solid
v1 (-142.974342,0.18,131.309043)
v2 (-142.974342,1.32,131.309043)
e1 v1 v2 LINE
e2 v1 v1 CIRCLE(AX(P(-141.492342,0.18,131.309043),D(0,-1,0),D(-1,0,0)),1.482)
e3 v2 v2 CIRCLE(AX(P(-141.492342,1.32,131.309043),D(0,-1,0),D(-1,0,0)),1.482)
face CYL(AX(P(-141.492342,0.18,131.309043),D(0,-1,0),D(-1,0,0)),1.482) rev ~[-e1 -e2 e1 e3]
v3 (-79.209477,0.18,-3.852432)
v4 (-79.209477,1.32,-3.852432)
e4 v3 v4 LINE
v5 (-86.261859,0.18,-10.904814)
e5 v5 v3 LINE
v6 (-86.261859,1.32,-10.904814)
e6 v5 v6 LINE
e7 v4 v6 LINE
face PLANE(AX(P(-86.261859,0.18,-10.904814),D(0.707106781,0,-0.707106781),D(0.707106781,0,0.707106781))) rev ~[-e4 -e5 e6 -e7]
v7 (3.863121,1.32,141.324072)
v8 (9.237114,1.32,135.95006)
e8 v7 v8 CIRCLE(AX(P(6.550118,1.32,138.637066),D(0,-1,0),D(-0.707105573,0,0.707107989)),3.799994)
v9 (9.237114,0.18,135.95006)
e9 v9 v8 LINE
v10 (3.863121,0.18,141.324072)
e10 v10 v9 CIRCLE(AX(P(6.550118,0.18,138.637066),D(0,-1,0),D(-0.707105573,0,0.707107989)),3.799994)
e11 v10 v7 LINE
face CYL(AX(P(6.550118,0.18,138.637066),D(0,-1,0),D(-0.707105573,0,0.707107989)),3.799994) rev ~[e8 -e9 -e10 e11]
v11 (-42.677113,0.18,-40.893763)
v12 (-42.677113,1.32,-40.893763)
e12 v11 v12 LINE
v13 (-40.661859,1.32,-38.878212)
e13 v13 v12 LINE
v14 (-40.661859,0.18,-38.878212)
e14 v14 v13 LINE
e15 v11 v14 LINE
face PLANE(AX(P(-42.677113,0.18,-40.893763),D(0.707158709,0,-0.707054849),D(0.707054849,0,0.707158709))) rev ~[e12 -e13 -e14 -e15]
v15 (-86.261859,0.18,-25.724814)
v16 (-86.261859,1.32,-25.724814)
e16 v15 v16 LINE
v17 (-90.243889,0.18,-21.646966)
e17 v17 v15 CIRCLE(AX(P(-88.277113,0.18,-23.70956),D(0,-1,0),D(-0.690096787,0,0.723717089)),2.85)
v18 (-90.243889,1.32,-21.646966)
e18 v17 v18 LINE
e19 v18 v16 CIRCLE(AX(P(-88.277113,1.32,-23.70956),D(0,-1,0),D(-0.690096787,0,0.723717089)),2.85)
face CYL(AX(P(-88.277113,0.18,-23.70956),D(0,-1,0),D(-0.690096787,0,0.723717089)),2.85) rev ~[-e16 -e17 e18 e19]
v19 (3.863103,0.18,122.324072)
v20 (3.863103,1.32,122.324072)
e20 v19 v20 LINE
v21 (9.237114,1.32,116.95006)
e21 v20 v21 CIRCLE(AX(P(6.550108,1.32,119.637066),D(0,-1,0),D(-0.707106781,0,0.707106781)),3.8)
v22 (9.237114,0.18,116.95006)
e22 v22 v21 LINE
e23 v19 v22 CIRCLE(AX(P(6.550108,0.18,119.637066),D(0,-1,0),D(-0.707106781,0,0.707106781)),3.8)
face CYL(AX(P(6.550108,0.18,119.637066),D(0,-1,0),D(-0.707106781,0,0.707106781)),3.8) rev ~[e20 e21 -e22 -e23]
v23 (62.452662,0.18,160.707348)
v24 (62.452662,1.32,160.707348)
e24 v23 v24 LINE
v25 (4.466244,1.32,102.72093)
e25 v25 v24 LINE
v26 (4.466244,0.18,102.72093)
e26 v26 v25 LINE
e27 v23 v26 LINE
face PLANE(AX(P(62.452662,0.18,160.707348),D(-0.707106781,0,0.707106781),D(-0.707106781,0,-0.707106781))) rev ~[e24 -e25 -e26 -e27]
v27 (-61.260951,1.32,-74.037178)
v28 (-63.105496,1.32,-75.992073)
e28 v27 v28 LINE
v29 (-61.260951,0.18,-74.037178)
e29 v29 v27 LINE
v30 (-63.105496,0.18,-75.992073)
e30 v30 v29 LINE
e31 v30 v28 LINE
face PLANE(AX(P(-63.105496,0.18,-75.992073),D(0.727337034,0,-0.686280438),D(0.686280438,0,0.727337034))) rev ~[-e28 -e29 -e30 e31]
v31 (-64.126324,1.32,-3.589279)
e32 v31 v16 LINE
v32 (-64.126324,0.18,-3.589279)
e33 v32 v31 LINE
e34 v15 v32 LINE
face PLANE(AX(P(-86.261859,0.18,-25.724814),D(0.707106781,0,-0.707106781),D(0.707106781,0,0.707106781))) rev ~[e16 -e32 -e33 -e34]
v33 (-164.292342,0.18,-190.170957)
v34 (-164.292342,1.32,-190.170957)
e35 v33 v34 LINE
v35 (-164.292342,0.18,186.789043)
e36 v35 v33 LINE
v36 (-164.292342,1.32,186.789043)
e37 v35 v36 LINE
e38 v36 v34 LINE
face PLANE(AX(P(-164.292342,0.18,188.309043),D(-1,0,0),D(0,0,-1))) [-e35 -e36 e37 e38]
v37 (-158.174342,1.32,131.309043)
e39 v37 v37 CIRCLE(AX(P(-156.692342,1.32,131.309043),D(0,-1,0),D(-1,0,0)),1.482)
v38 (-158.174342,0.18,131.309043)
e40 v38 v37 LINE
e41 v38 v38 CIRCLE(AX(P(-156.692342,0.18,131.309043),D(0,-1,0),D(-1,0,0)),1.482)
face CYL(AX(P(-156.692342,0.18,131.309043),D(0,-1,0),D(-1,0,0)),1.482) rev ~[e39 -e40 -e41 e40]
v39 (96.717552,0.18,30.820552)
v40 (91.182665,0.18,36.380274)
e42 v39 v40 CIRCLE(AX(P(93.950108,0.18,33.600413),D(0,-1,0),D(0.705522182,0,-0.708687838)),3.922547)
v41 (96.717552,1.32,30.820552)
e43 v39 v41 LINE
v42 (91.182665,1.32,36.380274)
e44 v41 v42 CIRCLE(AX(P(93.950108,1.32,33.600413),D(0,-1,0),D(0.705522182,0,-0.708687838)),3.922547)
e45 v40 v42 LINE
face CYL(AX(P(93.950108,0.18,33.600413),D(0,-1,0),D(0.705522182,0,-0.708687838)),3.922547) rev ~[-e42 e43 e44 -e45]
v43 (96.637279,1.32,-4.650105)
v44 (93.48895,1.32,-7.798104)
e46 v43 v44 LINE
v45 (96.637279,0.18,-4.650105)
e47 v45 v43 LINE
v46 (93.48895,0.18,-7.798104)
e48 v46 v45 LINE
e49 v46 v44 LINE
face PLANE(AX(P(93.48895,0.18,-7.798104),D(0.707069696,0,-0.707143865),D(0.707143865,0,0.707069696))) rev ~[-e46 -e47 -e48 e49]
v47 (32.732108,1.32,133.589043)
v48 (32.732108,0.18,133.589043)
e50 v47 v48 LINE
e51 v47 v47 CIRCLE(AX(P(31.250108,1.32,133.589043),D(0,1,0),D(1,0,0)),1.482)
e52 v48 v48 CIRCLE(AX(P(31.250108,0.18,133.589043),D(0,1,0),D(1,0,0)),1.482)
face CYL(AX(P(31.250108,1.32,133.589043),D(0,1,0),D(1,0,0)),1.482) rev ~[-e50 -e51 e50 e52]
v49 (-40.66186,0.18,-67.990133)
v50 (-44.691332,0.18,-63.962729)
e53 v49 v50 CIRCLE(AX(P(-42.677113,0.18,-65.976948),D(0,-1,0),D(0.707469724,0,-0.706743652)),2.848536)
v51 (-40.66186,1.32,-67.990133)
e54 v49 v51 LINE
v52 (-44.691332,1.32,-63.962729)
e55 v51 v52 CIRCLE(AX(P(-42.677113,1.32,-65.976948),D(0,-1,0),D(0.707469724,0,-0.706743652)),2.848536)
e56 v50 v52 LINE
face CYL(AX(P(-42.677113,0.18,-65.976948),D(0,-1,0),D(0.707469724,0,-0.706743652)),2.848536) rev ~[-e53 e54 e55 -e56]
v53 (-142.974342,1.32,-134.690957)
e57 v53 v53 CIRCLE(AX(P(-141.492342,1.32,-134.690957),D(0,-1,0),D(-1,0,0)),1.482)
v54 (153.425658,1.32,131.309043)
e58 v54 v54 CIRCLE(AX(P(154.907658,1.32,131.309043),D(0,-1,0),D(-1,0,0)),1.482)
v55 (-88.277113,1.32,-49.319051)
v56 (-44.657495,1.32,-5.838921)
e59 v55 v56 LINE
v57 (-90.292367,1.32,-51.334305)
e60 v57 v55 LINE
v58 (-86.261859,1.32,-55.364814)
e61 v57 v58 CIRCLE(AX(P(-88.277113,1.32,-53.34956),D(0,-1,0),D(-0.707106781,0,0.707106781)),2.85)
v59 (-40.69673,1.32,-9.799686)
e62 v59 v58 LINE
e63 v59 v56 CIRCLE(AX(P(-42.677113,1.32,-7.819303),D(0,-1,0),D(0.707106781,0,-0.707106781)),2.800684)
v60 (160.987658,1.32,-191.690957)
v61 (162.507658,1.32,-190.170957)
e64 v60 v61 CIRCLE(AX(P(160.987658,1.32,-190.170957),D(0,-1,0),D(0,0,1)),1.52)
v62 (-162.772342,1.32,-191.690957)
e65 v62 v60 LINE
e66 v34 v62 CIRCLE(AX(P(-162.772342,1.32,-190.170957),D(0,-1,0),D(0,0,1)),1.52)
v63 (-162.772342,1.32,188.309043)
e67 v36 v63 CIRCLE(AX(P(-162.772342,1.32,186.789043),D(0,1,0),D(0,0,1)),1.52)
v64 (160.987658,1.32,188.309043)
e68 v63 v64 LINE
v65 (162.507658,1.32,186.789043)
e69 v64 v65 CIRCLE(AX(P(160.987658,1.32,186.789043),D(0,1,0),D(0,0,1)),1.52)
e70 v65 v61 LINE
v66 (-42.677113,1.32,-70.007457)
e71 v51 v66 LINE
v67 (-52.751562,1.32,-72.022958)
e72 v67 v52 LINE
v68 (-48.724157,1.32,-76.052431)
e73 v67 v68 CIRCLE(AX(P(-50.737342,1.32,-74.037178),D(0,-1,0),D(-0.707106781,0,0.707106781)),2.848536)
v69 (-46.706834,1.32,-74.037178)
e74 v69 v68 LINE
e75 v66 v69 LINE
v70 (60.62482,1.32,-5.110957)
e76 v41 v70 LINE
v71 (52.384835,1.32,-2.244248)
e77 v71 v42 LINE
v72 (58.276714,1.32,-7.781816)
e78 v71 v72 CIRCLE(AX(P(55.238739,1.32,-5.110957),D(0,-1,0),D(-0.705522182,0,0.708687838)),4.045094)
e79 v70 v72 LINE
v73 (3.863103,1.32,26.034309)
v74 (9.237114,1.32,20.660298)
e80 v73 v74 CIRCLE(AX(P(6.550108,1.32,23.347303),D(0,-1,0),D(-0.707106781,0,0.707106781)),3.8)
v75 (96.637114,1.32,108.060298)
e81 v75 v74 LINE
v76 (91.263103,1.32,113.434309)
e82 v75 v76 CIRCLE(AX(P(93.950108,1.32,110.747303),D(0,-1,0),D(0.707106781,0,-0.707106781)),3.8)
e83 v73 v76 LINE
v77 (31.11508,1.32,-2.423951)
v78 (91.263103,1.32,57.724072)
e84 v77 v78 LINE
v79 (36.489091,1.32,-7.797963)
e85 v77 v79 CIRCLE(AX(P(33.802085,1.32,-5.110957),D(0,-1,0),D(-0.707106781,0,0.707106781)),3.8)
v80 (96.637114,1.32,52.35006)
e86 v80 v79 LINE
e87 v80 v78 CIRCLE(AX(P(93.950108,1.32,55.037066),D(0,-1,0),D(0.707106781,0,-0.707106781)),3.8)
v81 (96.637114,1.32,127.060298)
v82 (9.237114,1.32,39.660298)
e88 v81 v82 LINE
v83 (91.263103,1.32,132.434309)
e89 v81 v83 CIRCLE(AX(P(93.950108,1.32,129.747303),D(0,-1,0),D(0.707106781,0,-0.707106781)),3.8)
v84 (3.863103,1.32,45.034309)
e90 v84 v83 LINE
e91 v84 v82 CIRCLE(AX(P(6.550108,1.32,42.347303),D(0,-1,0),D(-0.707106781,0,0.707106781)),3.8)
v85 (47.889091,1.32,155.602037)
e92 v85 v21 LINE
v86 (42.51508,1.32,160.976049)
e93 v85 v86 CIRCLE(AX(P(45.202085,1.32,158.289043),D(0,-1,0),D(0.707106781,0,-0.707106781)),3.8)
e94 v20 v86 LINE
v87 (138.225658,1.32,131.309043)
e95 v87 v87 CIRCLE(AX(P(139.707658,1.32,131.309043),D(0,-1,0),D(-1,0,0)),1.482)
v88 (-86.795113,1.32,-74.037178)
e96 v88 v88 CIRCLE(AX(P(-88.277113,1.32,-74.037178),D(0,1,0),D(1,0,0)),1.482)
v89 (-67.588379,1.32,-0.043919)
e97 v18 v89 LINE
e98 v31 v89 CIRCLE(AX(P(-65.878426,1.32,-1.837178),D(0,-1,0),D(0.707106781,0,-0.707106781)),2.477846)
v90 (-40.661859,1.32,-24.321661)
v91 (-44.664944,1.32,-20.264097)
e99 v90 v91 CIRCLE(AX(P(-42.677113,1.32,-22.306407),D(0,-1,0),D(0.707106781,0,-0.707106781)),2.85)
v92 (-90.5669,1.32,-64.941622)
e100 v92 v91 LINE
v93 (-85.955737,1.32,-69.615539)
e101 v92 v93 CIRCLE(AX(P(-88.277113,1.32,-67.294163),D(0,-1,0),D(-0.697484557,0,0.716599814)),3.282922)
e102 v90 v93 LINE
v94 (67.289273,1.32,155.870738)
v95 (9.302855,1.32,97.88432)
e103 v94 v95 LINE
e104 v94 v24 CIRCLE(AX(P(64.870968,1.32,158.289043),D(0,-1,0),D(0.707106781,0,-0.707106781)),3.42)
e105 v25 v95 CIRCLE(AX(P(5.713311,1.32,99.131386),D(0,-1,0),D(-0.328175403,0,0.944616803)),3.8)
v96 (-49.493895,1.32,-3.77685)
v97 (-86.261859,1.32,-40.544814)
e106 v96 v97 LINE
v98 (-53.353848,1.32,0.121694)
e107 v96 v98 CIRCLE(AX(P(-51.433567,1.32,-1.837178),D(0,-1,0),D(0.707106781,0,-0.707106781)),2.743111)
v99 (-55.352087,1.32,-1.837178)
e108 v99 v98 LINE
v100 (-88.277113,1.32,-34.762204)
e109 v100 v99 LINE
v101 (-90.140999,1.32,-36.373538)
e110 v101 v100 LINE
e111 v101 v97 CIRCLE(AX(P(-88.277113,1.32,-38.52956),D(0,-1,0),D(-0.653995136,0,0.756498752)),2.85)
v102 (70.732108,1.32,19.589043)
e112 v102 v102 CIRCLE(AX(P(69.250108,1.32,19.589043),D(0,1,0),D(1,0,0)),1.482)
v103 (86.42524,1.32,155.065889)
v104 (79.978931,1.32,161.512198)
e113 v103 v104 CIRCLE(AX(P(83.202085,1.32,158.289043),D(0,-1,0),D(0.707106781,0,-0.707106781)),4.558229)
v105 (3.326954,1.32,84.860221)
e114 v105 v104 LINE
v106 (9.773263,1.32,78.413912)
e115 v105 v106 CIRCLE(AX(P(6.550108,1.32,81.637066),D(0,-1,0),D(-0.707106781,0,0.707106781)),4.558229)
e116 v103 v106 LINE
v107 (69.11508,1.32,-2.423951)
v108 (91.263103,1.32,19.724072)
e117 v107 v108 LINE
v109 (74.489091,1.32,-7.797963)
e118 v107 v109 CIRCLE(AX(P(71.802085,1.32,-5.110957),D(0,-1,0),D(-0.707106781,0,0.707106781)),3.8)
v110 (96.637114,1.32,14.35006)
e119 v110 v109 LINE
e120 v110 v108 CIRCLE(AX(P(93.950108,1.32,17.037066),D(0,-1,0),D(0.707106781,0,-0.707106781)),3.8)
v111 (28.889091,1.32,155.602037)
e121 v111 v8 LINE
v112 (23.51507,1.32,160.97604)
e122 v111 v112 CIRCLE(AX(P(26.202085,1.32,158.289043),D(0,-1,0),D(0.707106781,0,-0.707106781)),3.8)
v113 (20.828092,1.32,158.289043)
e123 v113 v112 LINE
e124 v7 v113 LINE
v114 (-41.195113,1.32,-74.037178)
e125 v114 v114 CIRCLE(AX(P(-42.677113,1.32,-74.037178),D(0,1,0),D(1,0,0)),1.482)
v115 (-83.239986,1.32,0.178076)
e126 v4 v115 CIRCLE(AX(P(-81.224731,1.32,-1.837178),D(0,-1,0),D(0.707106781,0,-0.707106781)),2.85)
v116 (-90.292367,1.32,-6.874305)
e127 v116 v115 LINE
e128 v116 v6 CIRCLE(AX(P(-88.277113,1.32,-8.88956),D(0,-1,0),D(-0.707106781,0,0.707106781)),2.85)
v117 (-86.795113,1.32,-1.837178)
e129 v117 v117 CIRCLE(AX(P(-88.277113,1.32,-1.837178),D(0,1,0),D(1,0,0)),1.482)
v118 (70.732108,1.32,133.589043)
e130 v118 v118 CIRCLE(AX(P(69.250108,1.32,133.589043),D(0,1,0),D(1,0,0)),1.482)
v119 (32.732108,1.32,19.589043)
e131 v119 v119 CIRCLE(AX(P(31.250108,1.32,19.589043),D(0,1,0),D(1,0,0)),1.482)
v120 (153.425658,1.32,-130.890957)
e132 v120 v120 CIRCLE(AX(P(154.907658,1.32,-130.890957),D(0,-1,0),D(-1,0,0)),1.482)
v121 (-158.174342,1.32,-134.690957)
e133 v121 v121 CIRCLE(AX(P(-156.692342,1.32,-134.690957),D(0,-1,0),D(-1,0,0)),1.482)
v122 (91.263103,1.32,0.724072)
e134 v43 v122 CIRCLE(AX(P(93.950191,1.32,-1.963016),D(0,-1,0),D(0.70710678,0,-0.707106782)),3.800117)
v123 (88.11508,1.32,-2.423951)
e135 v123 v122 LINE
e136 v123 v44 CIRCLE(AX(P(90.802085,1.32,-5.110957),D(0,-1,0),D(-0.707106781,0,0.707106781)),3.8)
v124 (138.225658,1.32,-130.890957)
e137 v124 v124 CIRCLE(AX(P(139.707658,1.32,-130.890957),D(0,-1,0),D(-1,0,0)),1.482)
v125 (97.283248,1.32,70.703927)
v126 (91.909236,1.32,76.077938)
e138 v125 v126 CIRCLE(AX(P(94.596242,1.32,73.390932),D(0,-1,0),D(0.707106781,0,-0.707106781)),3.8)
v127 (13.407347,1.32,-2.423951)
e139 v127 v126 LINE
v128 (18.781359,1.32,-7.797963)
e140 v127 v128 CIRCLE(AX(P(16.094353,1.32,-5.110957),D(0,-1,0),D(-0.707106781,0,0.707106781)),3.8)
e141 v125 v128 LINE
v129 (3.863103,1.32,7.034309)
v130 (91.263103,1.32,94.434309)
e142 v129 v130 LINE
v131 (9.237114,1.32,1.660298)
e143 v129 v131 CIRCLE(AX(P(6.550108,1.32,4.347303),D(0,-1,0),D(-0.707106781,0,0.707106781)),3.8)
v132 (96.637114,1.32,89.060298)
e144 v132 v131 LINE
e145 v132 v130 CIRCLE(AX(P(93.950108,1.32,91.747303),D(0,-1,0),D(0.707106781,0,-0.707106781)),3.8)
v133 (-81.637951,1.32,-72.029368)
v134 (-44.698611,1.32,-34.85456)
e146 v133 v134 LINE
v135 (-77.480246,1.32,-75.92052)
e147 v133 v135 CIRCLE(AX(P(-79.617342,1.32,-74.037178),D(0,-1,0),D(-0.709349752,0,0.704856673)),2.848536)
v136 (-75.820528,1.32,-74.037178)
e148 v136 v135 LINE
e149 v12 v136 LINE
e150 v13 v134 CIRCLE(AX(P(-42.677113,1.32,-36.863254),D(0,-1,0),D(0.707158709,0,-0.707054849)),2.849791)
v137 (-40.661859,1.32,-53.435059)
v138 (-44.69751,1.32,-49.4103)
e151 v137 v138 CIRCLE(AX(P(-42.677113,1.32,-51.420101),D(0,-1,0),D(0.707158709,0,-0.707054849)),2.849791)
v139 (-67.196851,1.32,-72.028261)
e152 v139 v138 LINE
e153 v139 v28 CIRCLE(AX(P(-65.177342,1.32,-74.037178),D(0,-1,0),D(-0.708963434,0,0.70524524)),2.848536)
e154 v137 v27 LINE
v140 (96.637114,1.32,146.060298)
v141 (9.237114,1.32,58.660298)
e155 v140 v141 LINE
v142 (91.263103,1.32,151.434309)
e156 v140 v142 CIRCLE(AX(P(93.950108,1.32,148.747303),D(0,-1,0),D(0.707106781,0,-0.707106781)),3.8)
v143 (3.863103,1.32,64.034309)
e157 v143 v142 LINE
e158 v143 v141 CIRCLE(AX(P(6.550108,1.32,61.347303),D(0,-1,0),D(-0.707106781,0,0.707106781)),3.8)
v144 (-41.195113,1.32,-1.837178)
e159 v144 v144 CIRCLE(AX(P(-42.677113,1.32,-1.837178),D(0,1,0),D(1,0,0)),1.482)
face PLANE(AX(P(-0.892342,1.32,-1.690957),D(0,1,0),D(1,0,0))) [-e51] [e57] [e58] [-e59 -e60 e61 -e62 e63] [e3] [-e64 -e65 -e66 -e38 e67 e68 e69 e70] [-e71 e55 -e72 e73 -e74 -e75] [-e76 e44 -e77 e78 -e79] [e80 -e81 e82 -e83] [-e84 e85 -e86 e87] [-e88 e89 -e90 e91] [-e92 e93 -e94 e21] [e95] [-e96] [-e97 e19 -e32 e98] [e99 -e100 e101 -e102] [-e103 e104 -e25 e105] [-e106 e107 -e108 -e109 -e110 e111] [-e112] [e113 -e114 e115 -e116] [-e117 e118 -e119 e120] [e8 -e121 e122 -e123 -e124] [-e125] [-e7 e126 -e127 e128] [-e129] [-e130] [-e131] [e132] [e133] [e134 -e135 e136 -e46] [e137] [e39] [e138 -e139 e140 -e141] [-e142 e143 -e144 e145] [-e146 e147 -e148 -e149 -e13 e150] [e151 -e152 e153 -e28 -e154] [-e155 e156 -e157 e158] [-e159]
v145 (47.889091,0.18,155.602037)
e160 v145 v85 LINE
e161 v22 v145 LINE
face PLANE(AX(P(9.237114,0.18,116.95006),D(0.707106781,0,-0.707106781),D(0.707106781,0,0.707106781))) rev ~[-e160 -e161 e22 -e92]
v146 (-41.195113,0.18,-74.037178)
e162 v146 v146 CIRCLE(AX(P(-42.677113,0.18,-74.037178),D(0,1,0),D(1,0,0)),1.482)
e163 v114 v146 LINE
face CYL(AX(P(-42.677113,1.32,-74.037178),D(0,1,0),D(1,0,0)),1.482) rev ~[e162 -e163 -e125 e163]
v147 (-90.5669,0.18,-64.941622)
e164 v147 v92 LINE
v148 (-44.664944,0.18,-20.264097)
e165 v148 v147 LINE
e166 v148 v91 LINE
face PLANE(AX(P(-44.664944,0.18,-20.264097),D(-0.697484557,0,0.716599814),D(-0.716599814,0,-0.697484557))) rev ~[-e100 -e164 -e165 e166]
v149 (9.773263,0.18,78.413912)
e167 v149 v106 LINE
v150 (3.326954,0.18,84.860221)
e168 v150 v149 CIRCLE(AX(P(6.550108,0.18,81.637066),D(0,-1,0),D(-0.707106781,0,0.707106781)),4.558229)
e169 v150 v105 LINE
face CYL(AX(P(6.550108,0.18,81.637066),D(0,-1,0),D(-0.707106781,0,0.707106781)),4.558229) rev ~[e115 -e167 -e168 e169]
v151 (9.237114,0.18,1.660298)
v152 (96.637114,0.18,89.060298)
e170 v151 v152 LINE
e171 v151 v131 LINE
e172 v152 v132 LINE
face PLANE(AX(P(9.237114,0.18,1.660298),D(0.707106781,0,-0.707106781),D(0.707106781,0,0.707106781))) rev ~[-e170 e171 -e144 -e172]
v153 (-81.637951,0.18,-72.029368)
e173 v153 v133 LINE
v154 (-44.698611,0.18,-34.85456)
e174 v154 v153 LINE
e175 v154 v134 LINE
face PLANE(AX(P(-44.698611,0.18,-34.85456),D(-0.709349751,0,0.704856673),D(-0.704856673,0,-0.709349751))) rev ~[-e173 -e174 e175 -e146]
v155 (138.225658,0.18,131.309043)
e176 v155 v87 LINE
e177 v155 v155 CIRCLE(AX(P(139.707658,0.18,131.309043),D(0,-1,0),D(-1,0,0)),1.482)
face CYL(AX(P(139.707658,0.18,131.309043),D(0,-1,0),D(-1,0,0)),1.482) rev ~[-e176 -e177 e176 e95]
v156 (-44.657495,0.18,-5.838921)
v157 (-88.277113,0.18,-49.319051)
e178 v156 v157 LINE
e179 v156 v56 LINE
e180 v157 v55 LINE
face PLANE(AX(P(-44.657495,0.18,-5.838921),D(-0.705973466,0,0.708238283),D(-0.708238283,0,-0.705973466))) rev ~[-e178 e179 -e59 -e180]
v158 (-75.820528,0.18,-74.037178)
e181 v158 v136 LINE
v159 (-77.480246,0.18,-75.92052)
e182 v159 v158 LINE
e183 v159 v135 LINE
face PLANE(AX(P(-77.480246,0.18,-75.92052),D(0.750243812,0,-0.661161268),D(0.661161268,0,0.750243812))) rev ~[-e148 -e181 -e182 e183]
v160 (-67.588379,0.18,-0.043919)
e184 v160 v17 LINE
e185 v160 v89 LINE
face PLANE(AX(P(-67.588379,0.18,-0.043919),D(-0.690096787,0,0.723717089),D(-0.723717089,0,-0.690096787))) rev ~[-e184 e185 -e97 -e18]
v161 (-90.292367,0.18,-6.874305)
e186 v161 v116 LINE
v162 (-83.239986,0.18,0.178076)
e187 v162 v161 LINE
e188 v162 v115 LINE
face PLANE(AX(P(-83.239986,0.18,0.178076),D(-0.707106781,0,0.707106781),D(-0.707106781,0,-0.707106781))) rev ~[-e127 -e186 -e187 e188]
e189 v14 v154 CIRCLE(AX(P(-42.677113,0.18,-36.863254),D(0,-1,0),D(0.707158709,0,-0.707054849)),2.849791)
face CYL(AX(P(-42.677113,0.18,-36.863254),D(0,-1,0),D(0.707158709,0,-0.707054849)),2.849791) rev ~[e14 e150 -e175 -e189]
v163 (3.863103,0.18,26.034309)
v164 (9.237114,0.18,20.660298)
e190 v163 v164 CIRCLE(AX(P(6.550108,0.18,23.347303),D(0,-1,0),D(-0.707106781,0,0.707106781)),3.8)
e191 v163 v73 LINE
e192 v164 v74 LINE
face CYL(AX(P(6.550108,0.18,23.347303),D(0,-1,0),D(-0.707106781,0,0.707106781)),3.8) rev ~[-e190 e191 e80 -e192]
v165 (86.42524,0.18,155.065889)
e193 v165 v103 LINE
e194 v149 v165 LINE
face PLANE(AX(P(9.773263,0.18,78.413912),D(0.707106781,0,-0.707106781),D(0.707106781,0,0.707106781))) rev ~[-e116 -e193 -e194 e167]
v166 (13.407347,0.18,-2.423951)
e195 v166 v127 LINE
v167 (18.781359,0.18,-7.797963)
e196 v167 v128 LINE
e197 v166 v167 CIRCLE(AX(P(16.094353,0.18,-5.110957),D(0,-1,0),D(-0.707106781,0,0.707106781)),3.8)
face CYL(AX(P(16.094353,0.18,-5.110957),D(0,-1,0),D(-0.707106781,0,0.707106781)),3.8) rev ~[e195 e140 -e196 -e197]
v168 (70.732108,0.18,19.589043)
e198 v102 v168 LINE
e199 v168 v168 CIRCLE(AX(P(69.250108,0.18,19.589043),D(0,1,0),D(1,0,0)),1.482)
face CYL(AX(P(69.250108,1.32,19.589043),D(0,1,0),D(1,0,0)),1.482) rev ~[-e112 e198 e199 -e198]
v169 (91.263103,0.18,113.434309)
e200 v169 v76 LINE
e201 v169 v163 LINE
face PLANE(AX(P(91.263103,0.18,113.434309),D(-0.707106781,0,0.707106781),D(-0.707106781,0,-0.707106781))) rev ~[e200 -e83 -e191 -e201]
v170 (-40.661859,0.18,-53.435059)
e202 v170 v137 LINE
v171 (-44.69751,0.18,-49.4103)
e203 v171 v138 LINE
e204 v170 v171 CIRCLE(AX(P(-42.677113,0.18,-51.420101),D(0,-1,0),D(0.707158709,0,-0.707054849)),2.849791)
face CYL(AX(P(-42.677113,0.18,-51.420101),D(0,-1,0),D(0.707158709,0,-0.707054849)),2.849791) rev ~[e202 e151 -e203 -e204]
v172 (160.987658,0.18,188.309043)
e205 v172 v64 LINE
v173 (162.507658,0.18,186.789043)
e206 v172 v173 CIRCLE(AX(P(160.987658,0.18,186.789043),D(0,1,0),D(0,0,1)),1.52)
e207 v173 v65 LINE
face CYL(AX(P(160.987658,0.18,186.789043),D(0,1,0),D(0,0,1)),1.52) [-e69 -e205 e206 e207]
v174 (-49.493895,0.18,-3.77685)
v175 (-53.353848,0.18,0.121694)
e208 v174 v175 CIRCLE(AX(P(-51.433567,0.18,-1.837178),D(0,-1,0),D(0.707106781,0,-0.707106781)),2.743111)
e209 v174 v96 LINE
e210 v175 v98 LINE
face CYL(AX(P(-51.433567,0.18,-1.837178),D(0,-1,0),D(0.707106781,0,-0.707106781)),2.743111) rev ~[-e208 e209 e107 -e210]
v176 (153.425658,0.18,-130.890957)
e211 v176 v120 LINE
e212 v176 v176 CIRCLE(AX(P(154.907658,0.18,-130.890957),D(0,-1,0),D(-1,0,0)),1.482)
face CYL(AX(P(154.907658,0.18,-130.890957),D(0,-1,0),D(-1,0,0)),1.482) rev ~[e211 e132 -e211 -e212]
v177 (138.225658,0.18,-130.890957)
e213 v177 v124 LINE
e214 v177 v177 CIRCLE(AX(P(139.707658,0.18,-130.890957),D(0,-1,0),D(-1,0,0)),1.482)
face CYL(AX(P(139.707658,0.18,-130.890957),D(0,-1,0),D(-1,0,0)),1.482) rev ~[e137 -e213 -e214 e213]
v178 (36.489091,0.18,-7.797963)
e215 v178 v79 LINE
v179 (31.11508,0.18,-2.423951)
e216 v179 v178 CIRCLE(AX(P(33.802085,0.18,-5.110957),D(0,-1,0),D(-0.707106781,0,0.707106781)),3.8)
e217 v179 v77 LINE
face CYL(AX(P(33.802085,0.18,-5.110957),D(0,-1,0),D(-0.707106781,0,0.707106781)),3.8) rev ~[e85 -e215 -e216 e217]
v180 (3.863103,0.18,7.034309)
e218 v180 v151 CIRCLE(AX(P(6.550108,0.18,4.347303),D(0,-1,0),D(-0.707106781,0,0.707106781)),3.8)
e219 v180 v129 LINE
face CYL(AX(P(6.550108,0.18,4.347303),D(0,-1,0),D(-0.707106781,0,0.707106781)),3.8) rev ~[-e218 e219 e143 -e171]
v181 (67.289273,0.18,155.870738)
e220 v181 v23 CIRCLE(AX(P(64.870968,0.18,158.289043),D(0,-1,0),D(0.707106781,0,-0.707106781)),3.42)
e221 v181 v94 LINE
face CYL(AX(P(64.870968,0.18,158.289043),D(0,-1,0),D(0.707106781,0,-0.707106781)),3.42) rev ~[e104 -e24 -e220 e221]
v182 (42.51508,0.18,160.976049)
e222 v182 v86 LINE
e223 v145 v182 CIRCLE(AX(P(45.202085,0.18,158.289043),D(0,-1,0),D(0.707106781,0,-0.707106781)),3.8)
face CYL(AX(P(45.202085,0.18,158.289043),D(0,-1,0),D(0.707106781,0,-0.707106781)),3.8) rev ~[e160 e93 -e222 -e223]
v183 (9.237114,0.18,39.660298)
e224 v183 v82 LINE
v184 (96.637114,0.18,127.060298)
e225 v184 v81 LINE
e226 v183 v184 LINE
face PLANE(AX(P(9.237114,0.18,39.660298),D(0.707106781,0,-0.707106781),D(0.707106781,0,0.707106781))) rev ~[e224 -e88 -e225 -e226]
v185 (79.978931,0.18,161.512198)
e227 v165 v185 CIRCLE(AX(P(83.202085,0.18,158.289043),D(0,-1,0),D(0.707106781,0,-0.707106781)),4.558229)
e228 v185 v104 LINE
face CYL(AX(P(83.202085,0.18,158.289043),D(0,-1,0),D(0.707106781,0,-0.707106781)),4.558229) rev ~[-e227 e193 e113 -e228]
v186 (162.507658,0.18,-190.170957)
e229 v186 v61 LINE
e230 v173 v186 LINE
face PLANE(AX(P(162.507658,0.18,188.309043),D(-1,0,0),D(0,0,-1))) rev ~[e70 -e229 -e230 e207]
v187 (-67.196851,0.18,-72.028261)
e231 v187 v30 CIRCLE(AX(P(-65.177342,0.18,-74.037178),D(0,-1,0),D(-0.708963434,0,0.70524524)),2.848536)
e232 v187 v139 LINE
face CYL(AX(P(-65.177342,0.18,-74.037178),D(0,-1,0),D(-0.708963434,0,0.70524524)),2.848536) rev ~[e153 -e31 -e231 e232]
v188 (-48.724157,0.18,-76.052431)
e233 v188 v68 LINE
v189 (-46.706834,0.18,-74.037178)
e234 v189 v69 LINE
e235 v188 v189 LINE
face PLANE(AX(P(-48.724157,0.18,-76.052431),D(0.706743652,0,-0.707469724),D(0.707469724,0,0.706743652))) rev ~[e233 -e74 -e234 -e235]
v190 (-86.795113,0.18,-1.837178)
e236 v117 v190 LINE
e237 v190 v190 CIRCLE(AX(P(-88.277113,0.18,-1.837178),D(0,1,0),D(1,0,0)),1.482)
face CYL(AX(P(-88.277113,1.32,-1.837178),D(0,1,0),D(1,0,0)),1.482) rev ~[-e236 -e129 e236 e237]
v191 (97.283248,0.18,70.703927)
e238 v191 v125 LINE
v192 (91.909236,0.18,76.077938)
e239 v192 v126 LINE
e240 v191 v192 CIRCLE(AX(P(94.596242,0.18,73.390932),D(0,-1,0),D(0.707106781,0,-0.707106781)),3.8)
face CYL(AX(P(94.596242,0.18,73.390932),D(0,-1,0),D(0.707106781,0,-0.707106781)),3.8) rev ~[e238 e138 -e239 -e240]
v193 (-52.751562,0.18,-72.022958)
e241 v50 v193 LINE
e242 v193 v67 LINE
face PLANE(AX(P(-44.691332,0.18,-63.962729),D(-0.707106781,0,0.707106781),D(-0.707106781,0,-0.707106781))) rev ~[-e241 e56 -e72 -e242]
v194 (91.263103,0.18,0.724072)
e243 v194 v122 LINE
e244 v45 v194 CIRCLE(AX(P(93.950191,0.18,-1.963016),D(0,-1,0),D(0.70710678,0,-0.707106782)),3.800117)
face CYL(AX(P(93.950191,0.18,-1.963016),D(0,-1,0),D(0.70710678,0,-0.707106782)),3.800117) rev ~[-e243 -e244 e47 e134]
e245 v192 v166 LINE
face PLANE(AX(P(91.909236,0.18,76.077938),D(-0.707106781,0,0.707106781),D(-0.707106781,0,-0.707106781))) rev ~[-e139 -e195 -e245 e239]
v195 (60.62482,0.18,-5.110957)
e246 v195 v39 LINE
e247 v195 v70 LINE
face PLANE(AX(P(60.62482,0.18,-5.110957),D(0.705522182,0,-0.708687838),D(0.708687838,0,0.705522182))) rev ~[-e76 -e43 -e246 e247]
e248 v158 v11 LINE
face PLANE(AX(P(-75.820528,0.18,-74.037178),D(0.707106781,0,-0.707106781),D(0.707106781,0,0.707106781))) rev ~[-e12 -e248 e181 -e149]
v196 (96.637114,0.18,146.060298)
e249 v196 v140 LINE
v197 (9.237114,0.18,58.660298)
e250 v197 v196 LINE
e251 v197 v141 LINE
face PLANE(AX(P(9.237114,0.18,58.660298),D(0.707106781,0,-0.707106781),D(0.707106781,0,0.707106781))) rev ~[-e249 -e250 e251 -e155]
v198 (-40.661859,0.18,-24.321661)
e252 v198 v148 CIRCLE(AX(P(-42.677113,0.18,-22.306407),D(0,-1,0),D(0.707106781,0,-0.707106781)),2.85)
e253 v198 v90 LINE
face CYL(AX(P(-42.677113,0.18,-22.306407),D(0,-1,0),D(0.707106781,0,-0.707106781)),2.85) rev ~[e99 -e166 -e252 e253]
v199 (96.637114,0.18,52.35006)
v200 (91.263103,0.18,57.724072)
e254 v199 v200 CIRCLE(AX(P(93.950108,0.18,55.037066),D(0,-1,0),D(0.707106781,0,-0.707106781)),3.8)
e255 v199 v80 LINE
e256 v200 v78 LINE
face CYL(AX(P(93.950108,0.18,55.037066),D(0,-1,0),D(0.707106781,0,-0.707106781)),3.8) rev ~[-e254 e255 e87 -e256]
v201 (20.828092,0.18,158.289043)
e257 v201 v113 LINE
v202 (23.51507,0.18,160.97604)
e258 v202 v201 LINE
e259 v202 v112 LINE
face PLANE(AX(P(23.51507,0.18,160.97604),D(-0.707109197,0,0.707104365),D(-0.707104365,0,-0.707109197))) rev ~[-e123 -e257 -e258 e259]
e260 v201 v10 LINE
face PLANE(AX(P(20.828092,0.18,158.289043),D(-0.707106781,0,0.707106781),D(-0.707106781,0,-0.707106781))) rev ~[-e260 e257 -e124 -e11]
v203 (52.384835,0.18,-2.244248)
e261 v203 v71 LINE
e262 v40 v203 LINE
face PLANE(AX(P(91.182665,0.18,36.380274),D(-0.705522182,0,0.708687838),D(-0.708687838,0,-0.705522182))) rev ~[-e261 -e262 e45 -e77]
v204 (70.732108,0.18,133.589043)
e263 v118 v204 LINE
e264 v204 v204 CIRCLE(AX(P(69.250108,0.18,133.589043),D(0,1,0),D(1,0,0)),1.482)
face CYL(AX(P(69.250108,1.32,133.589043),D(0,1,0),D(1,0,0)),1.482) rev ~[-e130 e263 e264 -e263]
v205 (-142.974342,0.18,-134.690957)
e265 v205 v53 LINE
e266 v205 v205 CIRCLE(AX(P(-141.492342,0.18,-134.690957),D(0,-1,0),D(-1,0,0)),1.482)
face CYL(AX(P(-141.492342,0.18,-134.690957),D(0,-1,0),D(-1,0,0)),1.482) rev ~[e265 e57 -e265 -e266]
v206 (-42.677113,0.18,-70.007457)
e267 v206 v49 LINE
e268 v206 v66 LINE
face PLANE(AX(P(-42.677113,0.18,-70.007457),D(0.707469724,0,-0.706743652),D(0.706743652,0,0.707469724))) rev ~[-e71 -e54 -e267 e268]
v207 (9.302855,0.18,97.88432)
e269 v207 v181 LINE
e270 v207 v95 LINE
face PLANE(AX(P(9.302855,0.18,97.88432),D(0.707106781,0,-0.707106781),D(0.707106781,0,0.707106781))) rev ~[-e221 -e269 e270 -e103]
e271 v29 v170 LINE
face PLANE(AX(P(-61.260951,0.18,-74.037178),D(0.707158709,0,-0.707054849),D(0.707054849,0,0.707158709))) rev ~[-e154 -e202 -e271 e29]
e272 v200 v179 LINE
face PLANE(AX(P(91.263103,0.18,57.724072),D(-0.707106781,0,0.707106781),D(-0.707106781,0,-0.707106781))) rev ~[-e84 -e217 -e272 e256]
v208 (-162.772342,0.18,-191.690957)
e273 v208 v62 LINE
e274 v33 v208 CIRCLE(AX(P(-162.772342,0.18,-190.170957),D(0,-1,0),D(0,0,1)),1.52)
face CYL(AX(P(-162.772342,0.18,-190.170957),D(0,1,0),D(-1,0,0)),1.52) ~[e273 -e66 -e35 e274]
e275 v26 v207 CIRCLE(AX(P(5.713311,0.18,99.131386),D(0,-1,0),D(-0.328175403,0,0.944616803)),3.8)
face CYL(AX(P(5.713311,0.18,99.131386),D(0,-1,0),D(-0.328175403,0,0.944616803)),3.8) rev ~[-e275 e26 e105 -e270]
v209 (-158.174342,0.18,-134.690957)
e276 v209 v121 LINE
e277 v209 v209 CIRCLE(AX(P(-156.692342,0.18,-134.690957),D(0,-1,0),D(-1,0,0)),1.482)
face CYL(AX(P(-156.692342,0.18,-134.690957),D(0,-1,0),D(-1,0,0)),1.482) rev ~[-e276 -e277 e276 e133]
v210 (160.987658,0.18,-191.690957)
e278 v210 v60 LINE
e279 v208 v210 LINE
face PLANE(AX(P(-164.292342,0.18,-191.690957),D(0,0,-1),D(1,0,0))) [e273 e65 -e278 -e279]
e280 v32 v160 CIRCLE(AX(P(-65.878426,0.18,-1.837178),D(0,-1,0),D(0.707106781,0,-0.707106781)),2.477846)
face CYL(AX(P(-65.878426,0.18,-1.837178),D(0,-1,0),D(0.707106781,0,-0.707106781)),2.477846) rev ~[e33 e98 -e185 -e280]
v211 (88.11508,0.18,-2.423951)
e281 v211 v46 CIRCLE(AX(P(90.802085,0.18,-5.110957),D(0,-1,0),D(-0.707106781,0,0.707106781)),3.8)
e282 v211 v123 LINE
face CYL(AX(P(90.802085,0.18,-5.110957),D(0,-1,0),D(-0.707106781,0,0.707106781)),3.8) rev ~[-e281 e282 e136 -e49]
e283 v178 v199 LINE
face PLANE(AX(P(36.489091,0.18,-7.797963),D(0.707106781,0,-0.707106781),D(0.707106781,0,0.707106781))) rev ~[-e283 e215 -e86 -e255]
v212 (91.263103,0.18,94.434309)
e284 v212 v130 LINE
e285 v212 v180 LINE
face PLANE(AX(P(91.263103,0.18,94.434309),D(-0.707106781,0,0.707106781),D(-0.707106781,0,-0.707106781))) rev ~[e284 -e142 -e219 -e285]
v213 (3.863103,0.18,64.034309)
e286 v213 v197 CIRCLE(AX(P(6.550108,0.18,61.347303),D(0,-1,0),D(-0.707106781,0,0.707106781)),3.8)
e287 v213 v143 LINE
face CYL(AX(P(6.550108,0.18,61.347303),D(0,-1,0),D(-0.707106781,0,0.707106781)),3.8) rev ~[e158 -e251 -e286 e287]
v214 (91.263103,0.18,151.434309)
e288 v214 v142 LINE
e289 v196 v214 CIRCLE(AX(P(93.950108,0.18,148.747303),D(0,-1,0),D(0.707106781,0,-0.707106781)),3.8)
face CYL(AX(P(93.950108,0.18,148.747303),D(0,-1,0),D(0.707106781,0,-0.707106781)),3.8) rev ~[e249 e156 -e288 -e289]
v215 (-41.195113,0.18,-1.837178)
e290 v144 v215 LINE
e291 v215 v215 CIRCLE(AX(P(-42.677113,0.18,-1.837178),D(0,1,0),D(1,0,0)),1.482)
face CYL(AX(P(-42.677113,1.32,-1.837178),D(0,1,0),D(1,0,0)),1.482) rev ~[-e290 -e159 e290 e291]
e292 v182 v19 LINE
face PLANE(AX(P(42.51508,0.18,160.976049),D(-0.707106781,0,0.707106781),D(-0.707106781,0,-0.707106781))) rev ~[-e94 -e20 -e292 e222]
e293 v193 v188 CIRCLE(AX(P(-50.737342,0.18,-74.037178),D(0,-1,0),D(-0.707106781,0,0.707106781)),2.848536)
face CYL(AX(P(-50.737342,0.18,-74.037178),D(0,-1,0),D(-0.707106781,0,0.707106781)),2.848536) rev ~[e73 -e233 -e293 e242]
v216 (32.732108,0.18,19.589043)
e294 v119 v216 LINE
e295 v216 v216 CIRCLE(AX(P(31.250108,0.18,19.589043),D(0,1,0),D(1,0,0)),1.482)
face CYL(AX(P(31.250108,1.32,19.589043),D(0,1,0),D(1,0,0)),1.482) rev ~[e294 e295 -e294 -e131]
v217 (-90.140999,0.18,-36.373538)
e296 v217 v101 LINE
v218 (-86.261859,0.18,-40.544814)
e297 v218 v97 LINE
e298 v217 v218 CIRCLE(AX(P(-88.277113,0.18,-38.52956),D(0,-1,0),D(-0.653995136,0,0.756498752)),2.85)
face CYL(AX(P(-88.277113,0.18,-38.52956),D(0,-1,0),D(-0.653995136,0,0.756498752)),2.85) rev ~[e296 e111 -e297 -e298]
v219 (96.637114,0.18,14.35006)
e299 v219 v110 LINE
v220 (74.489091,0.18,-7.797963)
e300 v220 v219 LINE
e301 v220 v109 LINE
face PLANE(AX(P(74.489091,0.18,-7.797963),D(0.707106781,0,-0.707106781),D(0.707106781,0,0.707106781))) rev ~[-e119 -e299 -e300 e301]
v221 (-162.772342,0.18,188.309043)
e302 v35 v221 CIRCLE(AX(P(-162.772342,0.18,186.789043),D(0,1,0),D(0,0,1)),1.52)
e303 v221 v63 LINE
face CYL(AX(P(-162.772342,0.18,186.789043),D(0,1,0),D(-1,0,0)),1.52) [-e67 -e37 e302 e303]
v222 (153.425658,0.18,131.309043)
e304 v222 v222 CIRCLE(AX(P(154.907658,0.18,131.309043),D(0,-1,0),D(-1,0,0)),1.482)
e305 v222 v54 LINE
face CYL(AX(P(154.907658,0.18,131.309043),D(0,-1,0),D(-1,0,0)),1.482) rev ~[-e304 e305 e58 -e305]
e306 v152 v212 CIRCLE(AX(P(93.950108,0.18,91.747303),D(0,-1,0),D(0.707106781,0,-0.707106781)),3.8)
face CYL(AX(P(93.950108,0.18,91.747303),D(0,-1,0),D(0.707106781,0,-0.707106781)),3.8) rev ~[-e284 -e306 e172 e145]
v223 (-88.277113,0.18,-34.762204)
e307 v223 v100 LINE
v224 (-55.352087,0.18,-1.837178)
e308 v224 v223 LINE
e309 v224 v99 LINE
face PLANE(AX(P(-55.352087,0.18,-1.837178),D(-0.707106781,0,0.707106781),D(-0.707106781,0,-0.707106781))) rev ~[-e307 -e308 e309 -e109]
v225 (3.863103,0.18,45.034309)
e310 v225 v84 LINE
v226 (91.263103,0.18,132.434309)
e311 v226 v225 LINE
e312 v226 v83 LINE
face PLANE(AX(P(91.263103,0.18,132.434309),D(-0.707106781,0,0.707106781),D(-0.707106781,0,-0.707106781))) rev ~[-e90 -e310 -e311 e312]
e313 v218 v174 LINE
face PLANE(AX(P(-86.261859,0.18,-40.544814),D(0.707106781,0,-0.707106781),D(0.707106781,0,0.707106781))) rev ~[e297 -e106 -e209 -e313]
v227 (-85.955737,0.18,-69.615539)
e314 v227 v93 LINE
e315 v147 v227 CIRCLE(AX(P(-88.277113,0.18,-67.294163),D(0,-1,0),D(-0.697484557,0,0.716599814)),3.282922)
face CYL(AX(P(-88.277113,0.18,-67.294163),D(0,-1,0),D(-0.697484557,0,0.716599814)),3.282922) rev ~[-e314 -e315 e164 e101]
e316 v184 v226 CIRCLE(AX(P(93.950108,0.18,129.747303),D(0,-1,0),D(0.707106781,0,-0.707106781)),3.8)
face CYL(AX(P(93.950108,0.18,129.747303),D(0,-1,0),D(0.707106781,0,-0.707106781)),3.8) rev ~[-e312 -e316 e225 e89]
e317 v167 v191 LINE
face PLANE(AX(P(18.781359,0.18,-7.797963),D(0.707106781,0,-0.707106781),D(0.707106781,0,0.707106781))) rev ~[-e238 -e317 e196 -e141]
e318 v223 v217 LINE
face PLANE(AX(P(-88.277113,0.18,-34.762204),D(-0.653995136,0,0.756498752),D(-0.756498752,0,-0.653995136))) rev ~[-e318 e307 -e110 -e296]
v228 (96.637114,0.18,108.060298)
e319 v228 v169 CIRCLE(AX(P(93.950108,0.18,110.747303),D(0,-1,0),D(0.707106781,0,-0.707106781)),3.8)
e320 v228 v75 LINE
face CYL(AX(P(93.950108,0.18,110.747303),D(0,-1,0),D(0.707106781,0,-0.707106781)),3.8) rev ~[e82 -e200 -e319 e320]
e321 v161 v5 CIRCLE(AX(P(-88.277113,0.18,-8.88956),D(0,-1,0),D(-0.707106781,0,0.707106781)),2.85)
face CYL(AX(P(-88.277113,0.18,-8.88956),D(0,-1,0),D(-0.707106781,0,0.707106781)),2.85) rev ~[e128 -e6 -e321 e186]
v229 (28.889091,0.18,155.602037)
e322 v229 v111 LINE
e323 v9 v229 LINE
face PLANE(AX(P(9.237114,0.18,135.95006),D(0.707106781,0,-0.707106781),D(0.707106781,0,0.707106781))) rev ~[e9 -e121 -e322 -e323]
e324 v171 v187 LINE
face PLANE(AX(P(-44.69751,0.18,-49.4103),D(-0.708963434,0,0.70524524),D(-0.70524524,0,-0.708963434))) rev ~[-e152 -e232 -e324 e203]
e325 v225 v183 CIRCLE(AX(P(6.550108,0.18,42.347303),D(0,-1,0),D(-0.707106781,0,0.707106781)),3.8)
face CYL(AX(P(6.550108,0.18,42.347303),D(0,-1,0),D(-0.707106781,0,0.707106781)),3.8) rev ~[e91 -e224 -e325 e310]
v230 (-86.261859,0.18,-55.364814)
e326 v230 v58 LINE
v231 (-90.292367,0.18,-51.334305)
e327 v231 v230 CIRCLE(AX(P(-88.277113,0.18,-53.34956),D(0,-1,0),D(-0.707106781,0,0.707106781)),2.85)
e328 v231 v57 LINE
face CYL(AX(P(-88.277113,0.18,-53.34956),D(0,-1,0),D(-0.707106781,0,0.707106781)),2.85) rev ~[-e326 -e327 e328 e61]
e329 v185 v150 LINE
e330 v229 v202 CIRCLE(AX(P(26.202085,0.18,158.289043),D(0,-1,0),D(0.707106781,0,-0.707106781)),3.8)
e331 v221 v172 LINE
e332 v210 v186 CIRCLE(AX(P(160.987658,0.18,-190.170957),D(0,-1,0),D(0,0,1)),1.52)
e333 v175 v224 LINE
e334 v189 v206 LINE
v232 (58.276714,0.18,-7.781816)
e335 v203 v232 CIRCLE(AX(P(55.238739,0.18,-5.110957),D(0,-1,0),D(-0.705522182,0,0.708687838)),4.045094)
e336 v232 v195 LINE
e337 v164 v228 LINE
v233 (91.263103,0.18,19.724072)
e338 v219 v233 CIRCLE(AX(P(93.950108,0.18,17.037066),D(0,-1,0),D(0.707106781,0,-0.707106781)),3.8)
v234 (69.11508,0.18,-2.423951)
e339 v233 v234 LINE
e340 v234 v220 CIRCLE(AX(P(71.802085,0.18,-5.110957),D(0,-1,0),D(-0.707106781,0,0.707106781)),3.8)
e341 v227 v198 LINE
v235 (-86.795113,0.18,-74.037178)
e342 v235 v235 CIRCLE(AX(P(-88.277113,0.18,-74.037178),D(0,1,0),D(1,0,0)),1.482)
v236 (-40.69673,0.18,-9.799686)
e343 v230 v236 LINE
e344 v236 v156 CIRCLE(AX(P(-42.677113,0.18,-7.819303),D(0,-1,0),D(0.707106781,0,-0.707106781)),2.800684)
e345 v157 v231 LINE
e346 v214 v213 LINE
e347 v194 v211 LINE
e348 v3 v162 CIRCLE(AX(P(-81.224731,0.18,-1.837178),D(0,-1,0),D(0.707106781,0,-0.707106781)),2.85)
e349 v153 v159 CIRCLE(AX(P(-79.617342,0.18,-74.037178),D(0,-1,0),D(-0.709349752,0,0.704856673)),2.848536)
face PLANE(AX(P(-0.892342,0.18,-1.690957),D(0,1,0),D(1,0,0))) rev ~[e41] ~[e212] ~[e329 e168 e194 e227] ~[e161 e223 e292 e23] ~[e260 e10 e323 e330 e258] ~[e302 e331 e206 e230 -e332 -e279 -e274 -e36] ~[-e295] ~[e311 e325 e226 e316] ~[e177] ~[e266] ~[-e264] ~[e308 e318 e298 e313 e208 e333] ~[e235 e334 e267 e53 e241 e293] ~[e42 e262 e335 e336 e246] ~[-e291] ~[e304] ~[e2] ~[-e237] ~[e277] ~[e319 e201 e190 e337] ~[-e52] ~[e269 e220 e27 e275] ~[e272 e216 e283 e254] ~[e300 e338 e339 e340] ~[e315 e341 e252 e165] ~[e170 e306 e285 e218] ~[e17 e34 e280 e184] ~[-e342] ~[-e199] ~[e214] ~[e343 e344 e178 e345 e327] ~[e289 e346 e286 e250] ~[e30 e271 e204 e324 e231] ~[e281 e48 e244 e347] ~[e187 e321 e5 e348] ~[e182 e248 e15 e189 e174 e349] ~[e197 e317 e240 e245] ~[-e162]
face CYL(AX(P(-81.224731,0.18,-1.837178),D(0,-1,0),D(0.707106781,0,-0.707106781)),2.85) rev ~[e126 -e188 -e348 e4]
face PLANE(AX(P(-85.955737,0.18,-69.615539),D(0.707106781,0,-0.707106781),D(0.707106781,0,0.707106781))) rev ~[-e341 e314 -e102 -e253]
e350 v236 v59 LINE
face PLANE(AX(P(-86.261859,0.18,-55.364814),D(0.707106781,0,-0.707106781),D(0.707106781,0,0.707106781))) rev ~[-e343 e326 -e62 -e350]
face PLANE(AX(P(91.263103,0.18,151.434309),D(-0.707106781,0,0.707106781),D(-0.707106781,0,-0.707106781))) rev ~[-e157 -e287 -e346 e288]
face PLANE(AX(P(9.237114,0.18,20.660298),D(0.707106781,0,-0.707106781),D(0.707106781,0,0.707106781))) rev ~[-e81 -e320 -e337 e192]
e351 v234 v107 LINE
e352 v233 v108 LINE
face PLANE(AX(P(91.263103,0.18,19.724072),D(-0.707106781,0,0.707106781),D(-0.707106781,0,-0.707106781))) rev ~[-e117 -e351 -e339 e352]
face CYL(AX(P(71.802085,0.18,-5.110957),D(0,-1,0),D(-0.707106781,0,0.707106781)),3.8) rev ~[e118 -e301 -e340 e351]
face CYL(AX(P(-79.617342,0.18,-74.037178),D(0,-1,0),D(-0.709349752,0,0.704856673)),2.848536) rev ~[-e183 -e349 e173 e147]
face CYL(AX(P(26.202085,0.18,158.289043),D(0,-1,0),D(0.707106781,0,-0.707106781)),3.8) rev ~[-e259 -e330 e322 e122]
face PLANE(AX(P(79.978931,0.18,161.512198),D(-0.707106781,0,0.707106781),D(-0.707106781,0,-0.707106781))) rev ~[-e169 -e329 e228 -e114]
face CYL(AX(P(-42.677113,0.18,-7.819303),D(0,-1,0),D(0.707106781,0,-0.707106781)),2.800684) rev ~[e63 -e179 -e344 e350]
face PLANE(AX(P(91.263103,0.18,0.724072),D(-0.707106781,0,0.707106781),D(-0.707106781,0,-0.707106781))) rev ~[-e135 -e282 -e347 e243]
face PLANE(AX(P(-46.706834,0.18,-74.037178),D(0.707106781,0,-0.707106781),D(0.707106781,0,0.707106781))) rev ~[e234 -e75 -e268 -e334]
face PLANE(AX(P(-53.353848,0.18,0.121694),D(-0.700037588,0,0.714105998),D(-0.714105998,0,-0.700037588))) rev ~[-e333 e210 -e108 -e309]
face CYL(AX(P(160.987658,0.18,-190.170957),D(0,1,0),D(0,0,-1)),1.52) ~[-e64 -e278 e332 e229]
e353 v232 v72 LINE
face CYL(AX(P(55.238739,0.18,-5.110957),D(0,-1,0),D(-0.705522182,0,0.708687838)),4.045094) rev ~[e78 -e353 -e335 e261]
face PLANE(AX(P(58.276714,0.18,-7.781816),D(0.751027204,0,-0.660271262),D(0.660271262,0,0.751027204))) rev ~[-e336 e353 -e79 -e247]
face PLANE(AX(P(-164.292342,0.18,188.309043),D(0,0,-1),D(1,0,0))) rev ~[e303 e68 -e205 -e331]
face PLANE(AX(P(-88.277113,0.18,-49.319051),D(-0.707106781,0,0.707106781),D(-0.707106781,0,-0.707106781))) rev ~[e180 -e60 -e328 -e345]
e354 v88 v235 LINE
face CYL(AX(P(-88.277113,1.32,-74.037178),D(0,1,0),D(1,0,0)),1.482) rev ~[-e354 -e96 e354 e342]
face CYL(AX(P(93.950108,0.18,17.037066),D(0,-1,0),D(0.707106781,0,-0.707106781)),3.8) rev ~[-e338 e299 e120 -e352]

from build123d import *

# Parameters (mm, degrees)
SKETCH1_W           = 430
SKETCH1_H           = 500
BOSS_EXTRUDE1_DEPTH = 1.5
SKETCH12_R          = 1.95
CUT_EXTRUDE3_DEPTH  = 50.8
SKETCH6_R           = 1.95
CUT_EXTRUDE4_DEPTH  = 50.8
SKETCH7_R           = 1.95
CUT_EXTRUDE5_DEPTH  = 50.8
FILLET1_R           = 2
CUT_EXTRUDE6_DEPTH  = 10
SCALE1_SCALE        = 0.76


with BuildPart() as part:
    # Sketch1 → Boss-Extrude1 (new body)
    with BuildSketch(Plane(origin=(0, 0, 0), x_dir=(1, 0, 0), z_dir=(0, 1, 0))):
        Rectangle(SKETCH1_W, SKETCH1_H)
    extrude(amount=BOSS_EXTRUDE1_DEPTH)

    # Sketch12 → Cut-Extrude3 (cut)
    with BuildSketch(Plane(origin=(0, 0, 0), x_dir=(-1, 0, 0), z_dir=(0, -1, 0))):
        with Locations((-185, -175)):
            Circle(SKETCH12_R)
        with Locations((-205, 170)):
            Circle(SKETCH12_R)
        with Locations((-205, -175)):
            Circle(SKETCH12_R)
        with Locations((-185, 170)):
            Circle(SKETCH12_R)
        with Locations((205, -175)):
            Circle(SKETCH12_R)
        with Locations((185, 175)):
            Circle(SKETCH12_R)
        with Locations((205, 175)):
            Circle(SKETCH12_R)
        with Locations((185, -175)):
            Circle(SKETCH12_R)
    extrude(amount=-CUT_EXTRUDE3_DEPTH, mode=Mode.SUBTRACT)

    # Sketch6 → Cut-Extrude4 (cut)
    with BuildSketch(Plane(origin=(0, 1.5, 0), x_dir=(1, 0, 0), z_dir=(0, 1, 0))):
        with Locations((92.292697989, -28)):
            Circle(SKETCH6_R)
        with Locations((42.292697989, -28)):
            Circle(SKETCH6_R)
        with Locations((92.292697989, -178)):
            Circle(SKETCH6_R)
        with Locations((42.292697989, -178)):
            Circle(SKETCH6_R)
    extrude(amount=-CUT_EXTRUDE4_DEPTH, mode=Mode.SUBTRACT)

    # Sketch7 → Cut-Extrude5 (cut)
    with BuildSketch(Plane(origin=(0, 1.5, 0), x_dir=(1, 0, 0), z_dir=(0, 1, 0))):
        with Locations((-114.979961576, 95.192396061)):
            Circle(SKETCH7_R)
        with Locations((-54.979961576, 95.192396061)):
            Circle(SKETCH7_R)
        with Locations((-54.979961576, 0.192396061)):
            Circle(SKETCH7_R)
        with Locations((-114.979961576, 0.192396061)):
            Circle(SKETCH7_R)
    extrude(amount=-CUT_EXTRUDE5_DEPTH, mode=Mode.SUBTRACT)

    # Fillet1
    fillet1_edges = [part.edges().sort_by_distance(p)[0] for p in [
        (215, 0.75, 250),
        (-215, 0.75, 250),
        (-215, 0.75, -250),
        (215, 0.75, -250),
    ]]
    fillet(fillet1_edges, radius=FILLET1_R)

    # Sketch13 → Cut-Extrude6 (cut)
    with BuildSketch(Plane.XZ):
        with BuildLine():
            ThreePointArc((128.328231895, 194.409545443), (128.328231895, 201.480613255), (121.257164083, 201.480613255))
            Line((121.257164083, 201.480613255), (6.257164083, 86.480613255))
            ThreePointArc((6.257164083, 86.480613255), (6.257164083, 79.409545443), (13.328231895, 79.409545443))
            Line((13.328231895, 79.409545443), (128.328231895, 194.409545443))
        make_face()
        with BuildLine():
            ThreePointArc((114.891555161, 206.259007204), (114.891555161, 214.740992796), (106.409569569, 214.740992796))
            Line((106.409569569, 214.740992796), (5.551705193, 113.883128419))
            ThreePointArc((5.551705193, 113.883128419), (5.551705193, 105.401142828), (14.033690785, 105.401142828))
            Line((14.033690785, 105.401142828), (114.891555161, 206.259007204))
        make_face()
        with BuildLine():
            ThreePointArc((128.328231895, 169.409545443), (128.328231895, 176.480613255), (121.257164083, 176.480613255))
            Line((121.257164083, 176.480613255), (6.257164083, 61.480613255))
            ThreePointArc((6.257164083, 61.480613255), (6.257164083, 54.409545443), (13.328231895, 54.409545443))
            Line((13.328231895, 54.409545443), (128.328231895, 169.409545443))
        make_face()
        with BuildLine():
            ThreePointArc((128.328231895, 144.409545443), (128.328231895, 151.480613255), (121.257164083, 151.480613255))
            Line((121.257164083, 151.480613255), (6.257164083, 36.480613255))
            ThreePointArc((6.257164083, 36.480613255), (6.257164083, 29.409545443), (13.328231895, 29.409545443))
            Line((13.328231895, 29.409545443), (128.328231895, 144.409545443))
        make_face()
        with BuildLine():
            ThreePointArc((7.050771569, 137.384062043), (5.156114678, 129.125444121), (13.4147326, 131.020101013))
            Line((13.4147326, 131.020101013), (89.712651072, 207.318019485))
            ThreePointArc((89.712651072, 207.318019485), (89.712651072, 213.681980515), (83.348690041, 213.681980515))
            Line((83.348690041, 213.681980515), (7.050771569, 137.384062043))
        make_face()
        with BuildLine():
            ThreePointArc((128.328231895, 119.409545443), (128.328231895, 126.480613255), (121.257164083, 126.480613255))
            Line((121.257164083, 126.480613255), (6.257164083, 11.480613255))
            ThreePointArc((6.257164083, 11.480613255), (6.257164083, 4.409545443), (13.328231895, 4.409545443))
            Line((13.328231895, 4.409545443), (128.328231895, 119.409545443))
        make_face()
        with BuildLine():
            ThreePointArc((129.178407924, 95.256425689), (129.178407924, 102.327493501), (122.107340112, 102.327493501))
            Line((122.107340112, 102.327493501), (18.815380517, -0.964466094))
            ThreePointArc((18.815380517, -0.964466094), (18.815380517, -8.035533906), (25.886448329, -8.035533906))
            Line((25.886448329, -8.035533906), (129.178407924, 95.256425689))
        make_face()
        with BuildLine():
            ThreePointArc((64.186096271, 206.964466094), (64.186096271, 214.035533906), (57.115028459, 214.035533906))
            Line((57.115028459, 214.035533906), (6.257164083, 163.17766953))
            ThreePointArc((6.257164083, 163.17766953), (6.257164083, 156.106601718), (13.328231895, 156.106601718))
            Line((13.328231895, 156.106601718), (64.186096271, 206.964466094))
        make_face()
        with BuildLine():
            ThreePointArc((128.328231895, 71.106601718), (128.328231895, 78.17766953), (121.257164083, 78.17766953))
            Line((121.257164083, 78.17766953), (42.115028459, -0.964466094))
            ThreePointArc((42.115028459, -0.964466094), (42.115028459, -8.035533906), (49.186096271, -8.035533906))
            Line((49.186096271, -8.035533906), (128.328231895, 71.106601718))
        make_face()
        with BuildLine():
            ThreePointArc((128.434071453, 42.778300689), (128.450410182, 50.077386347), (121.151324524, 50.093725076))
            Line((121.151324524, 50.093725076), (70.101549086, -0.728014801))
            ThreePointArc((70.101549086, -0.728014801), (70.211536159, -8.378376983), (77.854021235, -8.014288369))
            Line((77.854021235, -8.014288369), (80.943634504, -4.5))
            Line((80.943634504, -4.5), (128.434071453, 42.778300689))
        make_face()
        with BuildLine():
            ThreePointArc((39.186096271, 206.964466094), (39.186090231, 214.035539946), (32.11501638, 214.035521827))
            Line((32.11501638, 214.035521827), (28.579518712, 210.5))
            Line((28.579518712, 210.5), (6.257188241, 188.17766953))
            ThreePointArc((6.257188241, 188.17766953), (6.257176162, 181.106613797), (13.328231895, 181.106601718))
            Line((13.328231895, 181.106601718), (39.186096271, 206.964466094))
        make_face()
        with BuildLine():
            ThreePointArc((128.328231895, 21.106601718), (128.328231895, 28.17766953), (121.257164083, 28.17766953))
            Line((121.257164083, 28.17766953), (92.115028459, -0.964466094))
            ThreePointArc((92.115028459, -0.964466094), (92.115028459, -8.035533906), (99.186096271, -8.035533906))
            Line((99.186096271, -8.035533906), (128.328231895, 21.106601718))
        make_face()
        with BuildLine():
            ThreePointArc((128.328449123, -3.893615534), (128.328449135, 3.177669518), (121.257164083, 3.17766953))
            Line((121.257164083, 3.17766953), (117.115028459, -0.964466094))
            ThreePointArc((117.115028459, -0.964466094), (117.11493575, -8.035441194), (124.185910844, -8.035719323))
            Line((124.185910844, -8.035719323), (128.328449123, -3.893615534))
        make_face()
        with BuildLine():
            Line((-60.282225947, -95.192396061), (-54.979961576, -89.89013169))
            Line((-54.979961576, -89.89013169), (-52.328312545, -87.235758493))
            ThreePointArc((-52.328312545, -87.235758493), (-52.33035331, -81.93586188), (-57.630250273, -81.936542135))
            Line((-57.630250273, -81.936542135), (-68.235815502, -92.542107364))
            ThreePointArc((-68.235815502, -92.542107364), (-68.236495757, -97.842004327), (-62.936599144, -97.844045092))
            Line((-62.936599144, -97.844045092), (-60.282225947, -95.192396061))
        make_face()
        with BuildLine():
            Line((-79.432380406, -95.192396061), (-52.328311176, -68.084345475))
            ThreePointArc((-52.328311176, -68.084345475), (-52.332091228, -62.778048343), (-57.638379198, -62.788609103))
            Line((-57.638379198, -62.788609103), (-87.242774375, -92.549084557))
            ThreePointArc((-87.242774375, -92.549084557), (-87.193524879, -97.884311066), (-81.85941362, -97.764626075))
            Line((-81.85941362, -97.764626075), (-79.432380406, -95.192396061))
        make_face()
        with BuildLine():
            Line((-98.589718565, -95.192396061), (-54.979961576, -51.582639071))
            Line((-54.979961576, -51.582639071), (-52.328311176, -48.930599166))
            ThreePointArc((-52.328311176, -48.930599166), (-52.332818712, -43.623576712), (-57.639827781, -43.636319812))
            Line((-57.639827781, -43.636319812), (-106.244222321, -92.550540935))
            ThreePointArc((-106.244222321, -92.550540935), (-106.146641992, -97.928953998), (-100.773557317, -97.670477564))
            Line((-100.773557317, -97.670477564), (-98.589718565, -95.192396061))
        make_face()
        with BuildLine():
            Line((-111.925519092, -89.374450278), (-52.328311147, -29.777242332))
            ThreePointArc((-52.328311147, -29.777242332), (-52.310450744, -24.491922995), (-57.595528665, -24.438342602))
            Line((-57.595528665, -24.438342602), (-117.992839573, -83.224558883))
            ThreePointArc((-117.992839573, -83.224558883), (-118.054977502, -89.353737319), (-111.925519092, -89.374450278))
        make_face()
        with BuildLine():
            Line((-112.328311147, -70.623496023), (-52.374195212, -10.669380088))
            ThreePointArc((-52.374195212, -10.669380088), (-52.374195212, -5.457847361), (-57.58572794, -5.457847361))
            Line((-57.58572794, -5.457847361), (-114.979961576, -62.668544735))
            Line((-114.979961576, -62.668544735), (-117.631612006, -65.320195164))
            ThreePointArc((-117.631612006, -65.320195164), (-117.631612006, -70.623496023), (-112.328311147, -70.623496023))
        make_face()
        with BuildLine():
            Line((-112.328311147, -51.123496023), (-63.949411742, -2.744596618))
            ThreePointArc((-63.949411742, -2.744596618), (-63.936748679, 2.34707829), (-69.028297614, 2.385067165))
            Line((-69.028297614, 2.385067165), (-71.657559216, -0.192396061))
            Line((-71.657559216, -0.192396061), (-114.979961576, -43.514798421))
            Line((-114.979961576, -43.514798421), (-117.432443337, -45.634975273))
            ThreePointArc((-117.432443337, -45.634975273), (-117.726028226, -51.025591461), (-112.328311147, -51.123496023))
        make_face()
        with BuildLine():
            Line((-112.328311147, -31.623496023), (-83.202607923, -2.497792799))
            ThreePointArc((-83.202607923, -2.497792799), (-83.175365618, 2.085432584), (-87.75794332, 2.167155652))
            Line((-87.75794332, 2.167155652), (-117.567824527, -26.25790651))
            ThreePointArc((-117.567824527, -26.25790651), (-117.662945906, -31.591787403), (-112.328311147, -31.623496023))
        make_face()
        with BuildLine():
            Line((-112.328311147, -12.123496023), (-103.048861614, -2.84404649))
            ThreePointArc((-103.048861614, -2.84404649), (-103.048861614, 2.459254369), (-108.352162473, 2.459254369))
            Line((-108.352162473, 2.459254369), (-117.631612006, -6.820195164))
            ThreePointArc((-117.631612006, -6.820195164), (-117.631612006, -12.123496023), (-112.328311147, -12.123496023))
        make_face()
    extrude(amount=-CUT_EXTRUDE6_DEPTH, mode=Mode.SUBTRACT)


with BuildPart() as part_1:
    # Scale1: scaled about (-3.718091903, 0.75, -7.04565373)
    add(part.part.scale(SCALE1_SCALE).moved(Location((-0.892342057, 0.18, -1.690956895))))


solid = part_1.part
